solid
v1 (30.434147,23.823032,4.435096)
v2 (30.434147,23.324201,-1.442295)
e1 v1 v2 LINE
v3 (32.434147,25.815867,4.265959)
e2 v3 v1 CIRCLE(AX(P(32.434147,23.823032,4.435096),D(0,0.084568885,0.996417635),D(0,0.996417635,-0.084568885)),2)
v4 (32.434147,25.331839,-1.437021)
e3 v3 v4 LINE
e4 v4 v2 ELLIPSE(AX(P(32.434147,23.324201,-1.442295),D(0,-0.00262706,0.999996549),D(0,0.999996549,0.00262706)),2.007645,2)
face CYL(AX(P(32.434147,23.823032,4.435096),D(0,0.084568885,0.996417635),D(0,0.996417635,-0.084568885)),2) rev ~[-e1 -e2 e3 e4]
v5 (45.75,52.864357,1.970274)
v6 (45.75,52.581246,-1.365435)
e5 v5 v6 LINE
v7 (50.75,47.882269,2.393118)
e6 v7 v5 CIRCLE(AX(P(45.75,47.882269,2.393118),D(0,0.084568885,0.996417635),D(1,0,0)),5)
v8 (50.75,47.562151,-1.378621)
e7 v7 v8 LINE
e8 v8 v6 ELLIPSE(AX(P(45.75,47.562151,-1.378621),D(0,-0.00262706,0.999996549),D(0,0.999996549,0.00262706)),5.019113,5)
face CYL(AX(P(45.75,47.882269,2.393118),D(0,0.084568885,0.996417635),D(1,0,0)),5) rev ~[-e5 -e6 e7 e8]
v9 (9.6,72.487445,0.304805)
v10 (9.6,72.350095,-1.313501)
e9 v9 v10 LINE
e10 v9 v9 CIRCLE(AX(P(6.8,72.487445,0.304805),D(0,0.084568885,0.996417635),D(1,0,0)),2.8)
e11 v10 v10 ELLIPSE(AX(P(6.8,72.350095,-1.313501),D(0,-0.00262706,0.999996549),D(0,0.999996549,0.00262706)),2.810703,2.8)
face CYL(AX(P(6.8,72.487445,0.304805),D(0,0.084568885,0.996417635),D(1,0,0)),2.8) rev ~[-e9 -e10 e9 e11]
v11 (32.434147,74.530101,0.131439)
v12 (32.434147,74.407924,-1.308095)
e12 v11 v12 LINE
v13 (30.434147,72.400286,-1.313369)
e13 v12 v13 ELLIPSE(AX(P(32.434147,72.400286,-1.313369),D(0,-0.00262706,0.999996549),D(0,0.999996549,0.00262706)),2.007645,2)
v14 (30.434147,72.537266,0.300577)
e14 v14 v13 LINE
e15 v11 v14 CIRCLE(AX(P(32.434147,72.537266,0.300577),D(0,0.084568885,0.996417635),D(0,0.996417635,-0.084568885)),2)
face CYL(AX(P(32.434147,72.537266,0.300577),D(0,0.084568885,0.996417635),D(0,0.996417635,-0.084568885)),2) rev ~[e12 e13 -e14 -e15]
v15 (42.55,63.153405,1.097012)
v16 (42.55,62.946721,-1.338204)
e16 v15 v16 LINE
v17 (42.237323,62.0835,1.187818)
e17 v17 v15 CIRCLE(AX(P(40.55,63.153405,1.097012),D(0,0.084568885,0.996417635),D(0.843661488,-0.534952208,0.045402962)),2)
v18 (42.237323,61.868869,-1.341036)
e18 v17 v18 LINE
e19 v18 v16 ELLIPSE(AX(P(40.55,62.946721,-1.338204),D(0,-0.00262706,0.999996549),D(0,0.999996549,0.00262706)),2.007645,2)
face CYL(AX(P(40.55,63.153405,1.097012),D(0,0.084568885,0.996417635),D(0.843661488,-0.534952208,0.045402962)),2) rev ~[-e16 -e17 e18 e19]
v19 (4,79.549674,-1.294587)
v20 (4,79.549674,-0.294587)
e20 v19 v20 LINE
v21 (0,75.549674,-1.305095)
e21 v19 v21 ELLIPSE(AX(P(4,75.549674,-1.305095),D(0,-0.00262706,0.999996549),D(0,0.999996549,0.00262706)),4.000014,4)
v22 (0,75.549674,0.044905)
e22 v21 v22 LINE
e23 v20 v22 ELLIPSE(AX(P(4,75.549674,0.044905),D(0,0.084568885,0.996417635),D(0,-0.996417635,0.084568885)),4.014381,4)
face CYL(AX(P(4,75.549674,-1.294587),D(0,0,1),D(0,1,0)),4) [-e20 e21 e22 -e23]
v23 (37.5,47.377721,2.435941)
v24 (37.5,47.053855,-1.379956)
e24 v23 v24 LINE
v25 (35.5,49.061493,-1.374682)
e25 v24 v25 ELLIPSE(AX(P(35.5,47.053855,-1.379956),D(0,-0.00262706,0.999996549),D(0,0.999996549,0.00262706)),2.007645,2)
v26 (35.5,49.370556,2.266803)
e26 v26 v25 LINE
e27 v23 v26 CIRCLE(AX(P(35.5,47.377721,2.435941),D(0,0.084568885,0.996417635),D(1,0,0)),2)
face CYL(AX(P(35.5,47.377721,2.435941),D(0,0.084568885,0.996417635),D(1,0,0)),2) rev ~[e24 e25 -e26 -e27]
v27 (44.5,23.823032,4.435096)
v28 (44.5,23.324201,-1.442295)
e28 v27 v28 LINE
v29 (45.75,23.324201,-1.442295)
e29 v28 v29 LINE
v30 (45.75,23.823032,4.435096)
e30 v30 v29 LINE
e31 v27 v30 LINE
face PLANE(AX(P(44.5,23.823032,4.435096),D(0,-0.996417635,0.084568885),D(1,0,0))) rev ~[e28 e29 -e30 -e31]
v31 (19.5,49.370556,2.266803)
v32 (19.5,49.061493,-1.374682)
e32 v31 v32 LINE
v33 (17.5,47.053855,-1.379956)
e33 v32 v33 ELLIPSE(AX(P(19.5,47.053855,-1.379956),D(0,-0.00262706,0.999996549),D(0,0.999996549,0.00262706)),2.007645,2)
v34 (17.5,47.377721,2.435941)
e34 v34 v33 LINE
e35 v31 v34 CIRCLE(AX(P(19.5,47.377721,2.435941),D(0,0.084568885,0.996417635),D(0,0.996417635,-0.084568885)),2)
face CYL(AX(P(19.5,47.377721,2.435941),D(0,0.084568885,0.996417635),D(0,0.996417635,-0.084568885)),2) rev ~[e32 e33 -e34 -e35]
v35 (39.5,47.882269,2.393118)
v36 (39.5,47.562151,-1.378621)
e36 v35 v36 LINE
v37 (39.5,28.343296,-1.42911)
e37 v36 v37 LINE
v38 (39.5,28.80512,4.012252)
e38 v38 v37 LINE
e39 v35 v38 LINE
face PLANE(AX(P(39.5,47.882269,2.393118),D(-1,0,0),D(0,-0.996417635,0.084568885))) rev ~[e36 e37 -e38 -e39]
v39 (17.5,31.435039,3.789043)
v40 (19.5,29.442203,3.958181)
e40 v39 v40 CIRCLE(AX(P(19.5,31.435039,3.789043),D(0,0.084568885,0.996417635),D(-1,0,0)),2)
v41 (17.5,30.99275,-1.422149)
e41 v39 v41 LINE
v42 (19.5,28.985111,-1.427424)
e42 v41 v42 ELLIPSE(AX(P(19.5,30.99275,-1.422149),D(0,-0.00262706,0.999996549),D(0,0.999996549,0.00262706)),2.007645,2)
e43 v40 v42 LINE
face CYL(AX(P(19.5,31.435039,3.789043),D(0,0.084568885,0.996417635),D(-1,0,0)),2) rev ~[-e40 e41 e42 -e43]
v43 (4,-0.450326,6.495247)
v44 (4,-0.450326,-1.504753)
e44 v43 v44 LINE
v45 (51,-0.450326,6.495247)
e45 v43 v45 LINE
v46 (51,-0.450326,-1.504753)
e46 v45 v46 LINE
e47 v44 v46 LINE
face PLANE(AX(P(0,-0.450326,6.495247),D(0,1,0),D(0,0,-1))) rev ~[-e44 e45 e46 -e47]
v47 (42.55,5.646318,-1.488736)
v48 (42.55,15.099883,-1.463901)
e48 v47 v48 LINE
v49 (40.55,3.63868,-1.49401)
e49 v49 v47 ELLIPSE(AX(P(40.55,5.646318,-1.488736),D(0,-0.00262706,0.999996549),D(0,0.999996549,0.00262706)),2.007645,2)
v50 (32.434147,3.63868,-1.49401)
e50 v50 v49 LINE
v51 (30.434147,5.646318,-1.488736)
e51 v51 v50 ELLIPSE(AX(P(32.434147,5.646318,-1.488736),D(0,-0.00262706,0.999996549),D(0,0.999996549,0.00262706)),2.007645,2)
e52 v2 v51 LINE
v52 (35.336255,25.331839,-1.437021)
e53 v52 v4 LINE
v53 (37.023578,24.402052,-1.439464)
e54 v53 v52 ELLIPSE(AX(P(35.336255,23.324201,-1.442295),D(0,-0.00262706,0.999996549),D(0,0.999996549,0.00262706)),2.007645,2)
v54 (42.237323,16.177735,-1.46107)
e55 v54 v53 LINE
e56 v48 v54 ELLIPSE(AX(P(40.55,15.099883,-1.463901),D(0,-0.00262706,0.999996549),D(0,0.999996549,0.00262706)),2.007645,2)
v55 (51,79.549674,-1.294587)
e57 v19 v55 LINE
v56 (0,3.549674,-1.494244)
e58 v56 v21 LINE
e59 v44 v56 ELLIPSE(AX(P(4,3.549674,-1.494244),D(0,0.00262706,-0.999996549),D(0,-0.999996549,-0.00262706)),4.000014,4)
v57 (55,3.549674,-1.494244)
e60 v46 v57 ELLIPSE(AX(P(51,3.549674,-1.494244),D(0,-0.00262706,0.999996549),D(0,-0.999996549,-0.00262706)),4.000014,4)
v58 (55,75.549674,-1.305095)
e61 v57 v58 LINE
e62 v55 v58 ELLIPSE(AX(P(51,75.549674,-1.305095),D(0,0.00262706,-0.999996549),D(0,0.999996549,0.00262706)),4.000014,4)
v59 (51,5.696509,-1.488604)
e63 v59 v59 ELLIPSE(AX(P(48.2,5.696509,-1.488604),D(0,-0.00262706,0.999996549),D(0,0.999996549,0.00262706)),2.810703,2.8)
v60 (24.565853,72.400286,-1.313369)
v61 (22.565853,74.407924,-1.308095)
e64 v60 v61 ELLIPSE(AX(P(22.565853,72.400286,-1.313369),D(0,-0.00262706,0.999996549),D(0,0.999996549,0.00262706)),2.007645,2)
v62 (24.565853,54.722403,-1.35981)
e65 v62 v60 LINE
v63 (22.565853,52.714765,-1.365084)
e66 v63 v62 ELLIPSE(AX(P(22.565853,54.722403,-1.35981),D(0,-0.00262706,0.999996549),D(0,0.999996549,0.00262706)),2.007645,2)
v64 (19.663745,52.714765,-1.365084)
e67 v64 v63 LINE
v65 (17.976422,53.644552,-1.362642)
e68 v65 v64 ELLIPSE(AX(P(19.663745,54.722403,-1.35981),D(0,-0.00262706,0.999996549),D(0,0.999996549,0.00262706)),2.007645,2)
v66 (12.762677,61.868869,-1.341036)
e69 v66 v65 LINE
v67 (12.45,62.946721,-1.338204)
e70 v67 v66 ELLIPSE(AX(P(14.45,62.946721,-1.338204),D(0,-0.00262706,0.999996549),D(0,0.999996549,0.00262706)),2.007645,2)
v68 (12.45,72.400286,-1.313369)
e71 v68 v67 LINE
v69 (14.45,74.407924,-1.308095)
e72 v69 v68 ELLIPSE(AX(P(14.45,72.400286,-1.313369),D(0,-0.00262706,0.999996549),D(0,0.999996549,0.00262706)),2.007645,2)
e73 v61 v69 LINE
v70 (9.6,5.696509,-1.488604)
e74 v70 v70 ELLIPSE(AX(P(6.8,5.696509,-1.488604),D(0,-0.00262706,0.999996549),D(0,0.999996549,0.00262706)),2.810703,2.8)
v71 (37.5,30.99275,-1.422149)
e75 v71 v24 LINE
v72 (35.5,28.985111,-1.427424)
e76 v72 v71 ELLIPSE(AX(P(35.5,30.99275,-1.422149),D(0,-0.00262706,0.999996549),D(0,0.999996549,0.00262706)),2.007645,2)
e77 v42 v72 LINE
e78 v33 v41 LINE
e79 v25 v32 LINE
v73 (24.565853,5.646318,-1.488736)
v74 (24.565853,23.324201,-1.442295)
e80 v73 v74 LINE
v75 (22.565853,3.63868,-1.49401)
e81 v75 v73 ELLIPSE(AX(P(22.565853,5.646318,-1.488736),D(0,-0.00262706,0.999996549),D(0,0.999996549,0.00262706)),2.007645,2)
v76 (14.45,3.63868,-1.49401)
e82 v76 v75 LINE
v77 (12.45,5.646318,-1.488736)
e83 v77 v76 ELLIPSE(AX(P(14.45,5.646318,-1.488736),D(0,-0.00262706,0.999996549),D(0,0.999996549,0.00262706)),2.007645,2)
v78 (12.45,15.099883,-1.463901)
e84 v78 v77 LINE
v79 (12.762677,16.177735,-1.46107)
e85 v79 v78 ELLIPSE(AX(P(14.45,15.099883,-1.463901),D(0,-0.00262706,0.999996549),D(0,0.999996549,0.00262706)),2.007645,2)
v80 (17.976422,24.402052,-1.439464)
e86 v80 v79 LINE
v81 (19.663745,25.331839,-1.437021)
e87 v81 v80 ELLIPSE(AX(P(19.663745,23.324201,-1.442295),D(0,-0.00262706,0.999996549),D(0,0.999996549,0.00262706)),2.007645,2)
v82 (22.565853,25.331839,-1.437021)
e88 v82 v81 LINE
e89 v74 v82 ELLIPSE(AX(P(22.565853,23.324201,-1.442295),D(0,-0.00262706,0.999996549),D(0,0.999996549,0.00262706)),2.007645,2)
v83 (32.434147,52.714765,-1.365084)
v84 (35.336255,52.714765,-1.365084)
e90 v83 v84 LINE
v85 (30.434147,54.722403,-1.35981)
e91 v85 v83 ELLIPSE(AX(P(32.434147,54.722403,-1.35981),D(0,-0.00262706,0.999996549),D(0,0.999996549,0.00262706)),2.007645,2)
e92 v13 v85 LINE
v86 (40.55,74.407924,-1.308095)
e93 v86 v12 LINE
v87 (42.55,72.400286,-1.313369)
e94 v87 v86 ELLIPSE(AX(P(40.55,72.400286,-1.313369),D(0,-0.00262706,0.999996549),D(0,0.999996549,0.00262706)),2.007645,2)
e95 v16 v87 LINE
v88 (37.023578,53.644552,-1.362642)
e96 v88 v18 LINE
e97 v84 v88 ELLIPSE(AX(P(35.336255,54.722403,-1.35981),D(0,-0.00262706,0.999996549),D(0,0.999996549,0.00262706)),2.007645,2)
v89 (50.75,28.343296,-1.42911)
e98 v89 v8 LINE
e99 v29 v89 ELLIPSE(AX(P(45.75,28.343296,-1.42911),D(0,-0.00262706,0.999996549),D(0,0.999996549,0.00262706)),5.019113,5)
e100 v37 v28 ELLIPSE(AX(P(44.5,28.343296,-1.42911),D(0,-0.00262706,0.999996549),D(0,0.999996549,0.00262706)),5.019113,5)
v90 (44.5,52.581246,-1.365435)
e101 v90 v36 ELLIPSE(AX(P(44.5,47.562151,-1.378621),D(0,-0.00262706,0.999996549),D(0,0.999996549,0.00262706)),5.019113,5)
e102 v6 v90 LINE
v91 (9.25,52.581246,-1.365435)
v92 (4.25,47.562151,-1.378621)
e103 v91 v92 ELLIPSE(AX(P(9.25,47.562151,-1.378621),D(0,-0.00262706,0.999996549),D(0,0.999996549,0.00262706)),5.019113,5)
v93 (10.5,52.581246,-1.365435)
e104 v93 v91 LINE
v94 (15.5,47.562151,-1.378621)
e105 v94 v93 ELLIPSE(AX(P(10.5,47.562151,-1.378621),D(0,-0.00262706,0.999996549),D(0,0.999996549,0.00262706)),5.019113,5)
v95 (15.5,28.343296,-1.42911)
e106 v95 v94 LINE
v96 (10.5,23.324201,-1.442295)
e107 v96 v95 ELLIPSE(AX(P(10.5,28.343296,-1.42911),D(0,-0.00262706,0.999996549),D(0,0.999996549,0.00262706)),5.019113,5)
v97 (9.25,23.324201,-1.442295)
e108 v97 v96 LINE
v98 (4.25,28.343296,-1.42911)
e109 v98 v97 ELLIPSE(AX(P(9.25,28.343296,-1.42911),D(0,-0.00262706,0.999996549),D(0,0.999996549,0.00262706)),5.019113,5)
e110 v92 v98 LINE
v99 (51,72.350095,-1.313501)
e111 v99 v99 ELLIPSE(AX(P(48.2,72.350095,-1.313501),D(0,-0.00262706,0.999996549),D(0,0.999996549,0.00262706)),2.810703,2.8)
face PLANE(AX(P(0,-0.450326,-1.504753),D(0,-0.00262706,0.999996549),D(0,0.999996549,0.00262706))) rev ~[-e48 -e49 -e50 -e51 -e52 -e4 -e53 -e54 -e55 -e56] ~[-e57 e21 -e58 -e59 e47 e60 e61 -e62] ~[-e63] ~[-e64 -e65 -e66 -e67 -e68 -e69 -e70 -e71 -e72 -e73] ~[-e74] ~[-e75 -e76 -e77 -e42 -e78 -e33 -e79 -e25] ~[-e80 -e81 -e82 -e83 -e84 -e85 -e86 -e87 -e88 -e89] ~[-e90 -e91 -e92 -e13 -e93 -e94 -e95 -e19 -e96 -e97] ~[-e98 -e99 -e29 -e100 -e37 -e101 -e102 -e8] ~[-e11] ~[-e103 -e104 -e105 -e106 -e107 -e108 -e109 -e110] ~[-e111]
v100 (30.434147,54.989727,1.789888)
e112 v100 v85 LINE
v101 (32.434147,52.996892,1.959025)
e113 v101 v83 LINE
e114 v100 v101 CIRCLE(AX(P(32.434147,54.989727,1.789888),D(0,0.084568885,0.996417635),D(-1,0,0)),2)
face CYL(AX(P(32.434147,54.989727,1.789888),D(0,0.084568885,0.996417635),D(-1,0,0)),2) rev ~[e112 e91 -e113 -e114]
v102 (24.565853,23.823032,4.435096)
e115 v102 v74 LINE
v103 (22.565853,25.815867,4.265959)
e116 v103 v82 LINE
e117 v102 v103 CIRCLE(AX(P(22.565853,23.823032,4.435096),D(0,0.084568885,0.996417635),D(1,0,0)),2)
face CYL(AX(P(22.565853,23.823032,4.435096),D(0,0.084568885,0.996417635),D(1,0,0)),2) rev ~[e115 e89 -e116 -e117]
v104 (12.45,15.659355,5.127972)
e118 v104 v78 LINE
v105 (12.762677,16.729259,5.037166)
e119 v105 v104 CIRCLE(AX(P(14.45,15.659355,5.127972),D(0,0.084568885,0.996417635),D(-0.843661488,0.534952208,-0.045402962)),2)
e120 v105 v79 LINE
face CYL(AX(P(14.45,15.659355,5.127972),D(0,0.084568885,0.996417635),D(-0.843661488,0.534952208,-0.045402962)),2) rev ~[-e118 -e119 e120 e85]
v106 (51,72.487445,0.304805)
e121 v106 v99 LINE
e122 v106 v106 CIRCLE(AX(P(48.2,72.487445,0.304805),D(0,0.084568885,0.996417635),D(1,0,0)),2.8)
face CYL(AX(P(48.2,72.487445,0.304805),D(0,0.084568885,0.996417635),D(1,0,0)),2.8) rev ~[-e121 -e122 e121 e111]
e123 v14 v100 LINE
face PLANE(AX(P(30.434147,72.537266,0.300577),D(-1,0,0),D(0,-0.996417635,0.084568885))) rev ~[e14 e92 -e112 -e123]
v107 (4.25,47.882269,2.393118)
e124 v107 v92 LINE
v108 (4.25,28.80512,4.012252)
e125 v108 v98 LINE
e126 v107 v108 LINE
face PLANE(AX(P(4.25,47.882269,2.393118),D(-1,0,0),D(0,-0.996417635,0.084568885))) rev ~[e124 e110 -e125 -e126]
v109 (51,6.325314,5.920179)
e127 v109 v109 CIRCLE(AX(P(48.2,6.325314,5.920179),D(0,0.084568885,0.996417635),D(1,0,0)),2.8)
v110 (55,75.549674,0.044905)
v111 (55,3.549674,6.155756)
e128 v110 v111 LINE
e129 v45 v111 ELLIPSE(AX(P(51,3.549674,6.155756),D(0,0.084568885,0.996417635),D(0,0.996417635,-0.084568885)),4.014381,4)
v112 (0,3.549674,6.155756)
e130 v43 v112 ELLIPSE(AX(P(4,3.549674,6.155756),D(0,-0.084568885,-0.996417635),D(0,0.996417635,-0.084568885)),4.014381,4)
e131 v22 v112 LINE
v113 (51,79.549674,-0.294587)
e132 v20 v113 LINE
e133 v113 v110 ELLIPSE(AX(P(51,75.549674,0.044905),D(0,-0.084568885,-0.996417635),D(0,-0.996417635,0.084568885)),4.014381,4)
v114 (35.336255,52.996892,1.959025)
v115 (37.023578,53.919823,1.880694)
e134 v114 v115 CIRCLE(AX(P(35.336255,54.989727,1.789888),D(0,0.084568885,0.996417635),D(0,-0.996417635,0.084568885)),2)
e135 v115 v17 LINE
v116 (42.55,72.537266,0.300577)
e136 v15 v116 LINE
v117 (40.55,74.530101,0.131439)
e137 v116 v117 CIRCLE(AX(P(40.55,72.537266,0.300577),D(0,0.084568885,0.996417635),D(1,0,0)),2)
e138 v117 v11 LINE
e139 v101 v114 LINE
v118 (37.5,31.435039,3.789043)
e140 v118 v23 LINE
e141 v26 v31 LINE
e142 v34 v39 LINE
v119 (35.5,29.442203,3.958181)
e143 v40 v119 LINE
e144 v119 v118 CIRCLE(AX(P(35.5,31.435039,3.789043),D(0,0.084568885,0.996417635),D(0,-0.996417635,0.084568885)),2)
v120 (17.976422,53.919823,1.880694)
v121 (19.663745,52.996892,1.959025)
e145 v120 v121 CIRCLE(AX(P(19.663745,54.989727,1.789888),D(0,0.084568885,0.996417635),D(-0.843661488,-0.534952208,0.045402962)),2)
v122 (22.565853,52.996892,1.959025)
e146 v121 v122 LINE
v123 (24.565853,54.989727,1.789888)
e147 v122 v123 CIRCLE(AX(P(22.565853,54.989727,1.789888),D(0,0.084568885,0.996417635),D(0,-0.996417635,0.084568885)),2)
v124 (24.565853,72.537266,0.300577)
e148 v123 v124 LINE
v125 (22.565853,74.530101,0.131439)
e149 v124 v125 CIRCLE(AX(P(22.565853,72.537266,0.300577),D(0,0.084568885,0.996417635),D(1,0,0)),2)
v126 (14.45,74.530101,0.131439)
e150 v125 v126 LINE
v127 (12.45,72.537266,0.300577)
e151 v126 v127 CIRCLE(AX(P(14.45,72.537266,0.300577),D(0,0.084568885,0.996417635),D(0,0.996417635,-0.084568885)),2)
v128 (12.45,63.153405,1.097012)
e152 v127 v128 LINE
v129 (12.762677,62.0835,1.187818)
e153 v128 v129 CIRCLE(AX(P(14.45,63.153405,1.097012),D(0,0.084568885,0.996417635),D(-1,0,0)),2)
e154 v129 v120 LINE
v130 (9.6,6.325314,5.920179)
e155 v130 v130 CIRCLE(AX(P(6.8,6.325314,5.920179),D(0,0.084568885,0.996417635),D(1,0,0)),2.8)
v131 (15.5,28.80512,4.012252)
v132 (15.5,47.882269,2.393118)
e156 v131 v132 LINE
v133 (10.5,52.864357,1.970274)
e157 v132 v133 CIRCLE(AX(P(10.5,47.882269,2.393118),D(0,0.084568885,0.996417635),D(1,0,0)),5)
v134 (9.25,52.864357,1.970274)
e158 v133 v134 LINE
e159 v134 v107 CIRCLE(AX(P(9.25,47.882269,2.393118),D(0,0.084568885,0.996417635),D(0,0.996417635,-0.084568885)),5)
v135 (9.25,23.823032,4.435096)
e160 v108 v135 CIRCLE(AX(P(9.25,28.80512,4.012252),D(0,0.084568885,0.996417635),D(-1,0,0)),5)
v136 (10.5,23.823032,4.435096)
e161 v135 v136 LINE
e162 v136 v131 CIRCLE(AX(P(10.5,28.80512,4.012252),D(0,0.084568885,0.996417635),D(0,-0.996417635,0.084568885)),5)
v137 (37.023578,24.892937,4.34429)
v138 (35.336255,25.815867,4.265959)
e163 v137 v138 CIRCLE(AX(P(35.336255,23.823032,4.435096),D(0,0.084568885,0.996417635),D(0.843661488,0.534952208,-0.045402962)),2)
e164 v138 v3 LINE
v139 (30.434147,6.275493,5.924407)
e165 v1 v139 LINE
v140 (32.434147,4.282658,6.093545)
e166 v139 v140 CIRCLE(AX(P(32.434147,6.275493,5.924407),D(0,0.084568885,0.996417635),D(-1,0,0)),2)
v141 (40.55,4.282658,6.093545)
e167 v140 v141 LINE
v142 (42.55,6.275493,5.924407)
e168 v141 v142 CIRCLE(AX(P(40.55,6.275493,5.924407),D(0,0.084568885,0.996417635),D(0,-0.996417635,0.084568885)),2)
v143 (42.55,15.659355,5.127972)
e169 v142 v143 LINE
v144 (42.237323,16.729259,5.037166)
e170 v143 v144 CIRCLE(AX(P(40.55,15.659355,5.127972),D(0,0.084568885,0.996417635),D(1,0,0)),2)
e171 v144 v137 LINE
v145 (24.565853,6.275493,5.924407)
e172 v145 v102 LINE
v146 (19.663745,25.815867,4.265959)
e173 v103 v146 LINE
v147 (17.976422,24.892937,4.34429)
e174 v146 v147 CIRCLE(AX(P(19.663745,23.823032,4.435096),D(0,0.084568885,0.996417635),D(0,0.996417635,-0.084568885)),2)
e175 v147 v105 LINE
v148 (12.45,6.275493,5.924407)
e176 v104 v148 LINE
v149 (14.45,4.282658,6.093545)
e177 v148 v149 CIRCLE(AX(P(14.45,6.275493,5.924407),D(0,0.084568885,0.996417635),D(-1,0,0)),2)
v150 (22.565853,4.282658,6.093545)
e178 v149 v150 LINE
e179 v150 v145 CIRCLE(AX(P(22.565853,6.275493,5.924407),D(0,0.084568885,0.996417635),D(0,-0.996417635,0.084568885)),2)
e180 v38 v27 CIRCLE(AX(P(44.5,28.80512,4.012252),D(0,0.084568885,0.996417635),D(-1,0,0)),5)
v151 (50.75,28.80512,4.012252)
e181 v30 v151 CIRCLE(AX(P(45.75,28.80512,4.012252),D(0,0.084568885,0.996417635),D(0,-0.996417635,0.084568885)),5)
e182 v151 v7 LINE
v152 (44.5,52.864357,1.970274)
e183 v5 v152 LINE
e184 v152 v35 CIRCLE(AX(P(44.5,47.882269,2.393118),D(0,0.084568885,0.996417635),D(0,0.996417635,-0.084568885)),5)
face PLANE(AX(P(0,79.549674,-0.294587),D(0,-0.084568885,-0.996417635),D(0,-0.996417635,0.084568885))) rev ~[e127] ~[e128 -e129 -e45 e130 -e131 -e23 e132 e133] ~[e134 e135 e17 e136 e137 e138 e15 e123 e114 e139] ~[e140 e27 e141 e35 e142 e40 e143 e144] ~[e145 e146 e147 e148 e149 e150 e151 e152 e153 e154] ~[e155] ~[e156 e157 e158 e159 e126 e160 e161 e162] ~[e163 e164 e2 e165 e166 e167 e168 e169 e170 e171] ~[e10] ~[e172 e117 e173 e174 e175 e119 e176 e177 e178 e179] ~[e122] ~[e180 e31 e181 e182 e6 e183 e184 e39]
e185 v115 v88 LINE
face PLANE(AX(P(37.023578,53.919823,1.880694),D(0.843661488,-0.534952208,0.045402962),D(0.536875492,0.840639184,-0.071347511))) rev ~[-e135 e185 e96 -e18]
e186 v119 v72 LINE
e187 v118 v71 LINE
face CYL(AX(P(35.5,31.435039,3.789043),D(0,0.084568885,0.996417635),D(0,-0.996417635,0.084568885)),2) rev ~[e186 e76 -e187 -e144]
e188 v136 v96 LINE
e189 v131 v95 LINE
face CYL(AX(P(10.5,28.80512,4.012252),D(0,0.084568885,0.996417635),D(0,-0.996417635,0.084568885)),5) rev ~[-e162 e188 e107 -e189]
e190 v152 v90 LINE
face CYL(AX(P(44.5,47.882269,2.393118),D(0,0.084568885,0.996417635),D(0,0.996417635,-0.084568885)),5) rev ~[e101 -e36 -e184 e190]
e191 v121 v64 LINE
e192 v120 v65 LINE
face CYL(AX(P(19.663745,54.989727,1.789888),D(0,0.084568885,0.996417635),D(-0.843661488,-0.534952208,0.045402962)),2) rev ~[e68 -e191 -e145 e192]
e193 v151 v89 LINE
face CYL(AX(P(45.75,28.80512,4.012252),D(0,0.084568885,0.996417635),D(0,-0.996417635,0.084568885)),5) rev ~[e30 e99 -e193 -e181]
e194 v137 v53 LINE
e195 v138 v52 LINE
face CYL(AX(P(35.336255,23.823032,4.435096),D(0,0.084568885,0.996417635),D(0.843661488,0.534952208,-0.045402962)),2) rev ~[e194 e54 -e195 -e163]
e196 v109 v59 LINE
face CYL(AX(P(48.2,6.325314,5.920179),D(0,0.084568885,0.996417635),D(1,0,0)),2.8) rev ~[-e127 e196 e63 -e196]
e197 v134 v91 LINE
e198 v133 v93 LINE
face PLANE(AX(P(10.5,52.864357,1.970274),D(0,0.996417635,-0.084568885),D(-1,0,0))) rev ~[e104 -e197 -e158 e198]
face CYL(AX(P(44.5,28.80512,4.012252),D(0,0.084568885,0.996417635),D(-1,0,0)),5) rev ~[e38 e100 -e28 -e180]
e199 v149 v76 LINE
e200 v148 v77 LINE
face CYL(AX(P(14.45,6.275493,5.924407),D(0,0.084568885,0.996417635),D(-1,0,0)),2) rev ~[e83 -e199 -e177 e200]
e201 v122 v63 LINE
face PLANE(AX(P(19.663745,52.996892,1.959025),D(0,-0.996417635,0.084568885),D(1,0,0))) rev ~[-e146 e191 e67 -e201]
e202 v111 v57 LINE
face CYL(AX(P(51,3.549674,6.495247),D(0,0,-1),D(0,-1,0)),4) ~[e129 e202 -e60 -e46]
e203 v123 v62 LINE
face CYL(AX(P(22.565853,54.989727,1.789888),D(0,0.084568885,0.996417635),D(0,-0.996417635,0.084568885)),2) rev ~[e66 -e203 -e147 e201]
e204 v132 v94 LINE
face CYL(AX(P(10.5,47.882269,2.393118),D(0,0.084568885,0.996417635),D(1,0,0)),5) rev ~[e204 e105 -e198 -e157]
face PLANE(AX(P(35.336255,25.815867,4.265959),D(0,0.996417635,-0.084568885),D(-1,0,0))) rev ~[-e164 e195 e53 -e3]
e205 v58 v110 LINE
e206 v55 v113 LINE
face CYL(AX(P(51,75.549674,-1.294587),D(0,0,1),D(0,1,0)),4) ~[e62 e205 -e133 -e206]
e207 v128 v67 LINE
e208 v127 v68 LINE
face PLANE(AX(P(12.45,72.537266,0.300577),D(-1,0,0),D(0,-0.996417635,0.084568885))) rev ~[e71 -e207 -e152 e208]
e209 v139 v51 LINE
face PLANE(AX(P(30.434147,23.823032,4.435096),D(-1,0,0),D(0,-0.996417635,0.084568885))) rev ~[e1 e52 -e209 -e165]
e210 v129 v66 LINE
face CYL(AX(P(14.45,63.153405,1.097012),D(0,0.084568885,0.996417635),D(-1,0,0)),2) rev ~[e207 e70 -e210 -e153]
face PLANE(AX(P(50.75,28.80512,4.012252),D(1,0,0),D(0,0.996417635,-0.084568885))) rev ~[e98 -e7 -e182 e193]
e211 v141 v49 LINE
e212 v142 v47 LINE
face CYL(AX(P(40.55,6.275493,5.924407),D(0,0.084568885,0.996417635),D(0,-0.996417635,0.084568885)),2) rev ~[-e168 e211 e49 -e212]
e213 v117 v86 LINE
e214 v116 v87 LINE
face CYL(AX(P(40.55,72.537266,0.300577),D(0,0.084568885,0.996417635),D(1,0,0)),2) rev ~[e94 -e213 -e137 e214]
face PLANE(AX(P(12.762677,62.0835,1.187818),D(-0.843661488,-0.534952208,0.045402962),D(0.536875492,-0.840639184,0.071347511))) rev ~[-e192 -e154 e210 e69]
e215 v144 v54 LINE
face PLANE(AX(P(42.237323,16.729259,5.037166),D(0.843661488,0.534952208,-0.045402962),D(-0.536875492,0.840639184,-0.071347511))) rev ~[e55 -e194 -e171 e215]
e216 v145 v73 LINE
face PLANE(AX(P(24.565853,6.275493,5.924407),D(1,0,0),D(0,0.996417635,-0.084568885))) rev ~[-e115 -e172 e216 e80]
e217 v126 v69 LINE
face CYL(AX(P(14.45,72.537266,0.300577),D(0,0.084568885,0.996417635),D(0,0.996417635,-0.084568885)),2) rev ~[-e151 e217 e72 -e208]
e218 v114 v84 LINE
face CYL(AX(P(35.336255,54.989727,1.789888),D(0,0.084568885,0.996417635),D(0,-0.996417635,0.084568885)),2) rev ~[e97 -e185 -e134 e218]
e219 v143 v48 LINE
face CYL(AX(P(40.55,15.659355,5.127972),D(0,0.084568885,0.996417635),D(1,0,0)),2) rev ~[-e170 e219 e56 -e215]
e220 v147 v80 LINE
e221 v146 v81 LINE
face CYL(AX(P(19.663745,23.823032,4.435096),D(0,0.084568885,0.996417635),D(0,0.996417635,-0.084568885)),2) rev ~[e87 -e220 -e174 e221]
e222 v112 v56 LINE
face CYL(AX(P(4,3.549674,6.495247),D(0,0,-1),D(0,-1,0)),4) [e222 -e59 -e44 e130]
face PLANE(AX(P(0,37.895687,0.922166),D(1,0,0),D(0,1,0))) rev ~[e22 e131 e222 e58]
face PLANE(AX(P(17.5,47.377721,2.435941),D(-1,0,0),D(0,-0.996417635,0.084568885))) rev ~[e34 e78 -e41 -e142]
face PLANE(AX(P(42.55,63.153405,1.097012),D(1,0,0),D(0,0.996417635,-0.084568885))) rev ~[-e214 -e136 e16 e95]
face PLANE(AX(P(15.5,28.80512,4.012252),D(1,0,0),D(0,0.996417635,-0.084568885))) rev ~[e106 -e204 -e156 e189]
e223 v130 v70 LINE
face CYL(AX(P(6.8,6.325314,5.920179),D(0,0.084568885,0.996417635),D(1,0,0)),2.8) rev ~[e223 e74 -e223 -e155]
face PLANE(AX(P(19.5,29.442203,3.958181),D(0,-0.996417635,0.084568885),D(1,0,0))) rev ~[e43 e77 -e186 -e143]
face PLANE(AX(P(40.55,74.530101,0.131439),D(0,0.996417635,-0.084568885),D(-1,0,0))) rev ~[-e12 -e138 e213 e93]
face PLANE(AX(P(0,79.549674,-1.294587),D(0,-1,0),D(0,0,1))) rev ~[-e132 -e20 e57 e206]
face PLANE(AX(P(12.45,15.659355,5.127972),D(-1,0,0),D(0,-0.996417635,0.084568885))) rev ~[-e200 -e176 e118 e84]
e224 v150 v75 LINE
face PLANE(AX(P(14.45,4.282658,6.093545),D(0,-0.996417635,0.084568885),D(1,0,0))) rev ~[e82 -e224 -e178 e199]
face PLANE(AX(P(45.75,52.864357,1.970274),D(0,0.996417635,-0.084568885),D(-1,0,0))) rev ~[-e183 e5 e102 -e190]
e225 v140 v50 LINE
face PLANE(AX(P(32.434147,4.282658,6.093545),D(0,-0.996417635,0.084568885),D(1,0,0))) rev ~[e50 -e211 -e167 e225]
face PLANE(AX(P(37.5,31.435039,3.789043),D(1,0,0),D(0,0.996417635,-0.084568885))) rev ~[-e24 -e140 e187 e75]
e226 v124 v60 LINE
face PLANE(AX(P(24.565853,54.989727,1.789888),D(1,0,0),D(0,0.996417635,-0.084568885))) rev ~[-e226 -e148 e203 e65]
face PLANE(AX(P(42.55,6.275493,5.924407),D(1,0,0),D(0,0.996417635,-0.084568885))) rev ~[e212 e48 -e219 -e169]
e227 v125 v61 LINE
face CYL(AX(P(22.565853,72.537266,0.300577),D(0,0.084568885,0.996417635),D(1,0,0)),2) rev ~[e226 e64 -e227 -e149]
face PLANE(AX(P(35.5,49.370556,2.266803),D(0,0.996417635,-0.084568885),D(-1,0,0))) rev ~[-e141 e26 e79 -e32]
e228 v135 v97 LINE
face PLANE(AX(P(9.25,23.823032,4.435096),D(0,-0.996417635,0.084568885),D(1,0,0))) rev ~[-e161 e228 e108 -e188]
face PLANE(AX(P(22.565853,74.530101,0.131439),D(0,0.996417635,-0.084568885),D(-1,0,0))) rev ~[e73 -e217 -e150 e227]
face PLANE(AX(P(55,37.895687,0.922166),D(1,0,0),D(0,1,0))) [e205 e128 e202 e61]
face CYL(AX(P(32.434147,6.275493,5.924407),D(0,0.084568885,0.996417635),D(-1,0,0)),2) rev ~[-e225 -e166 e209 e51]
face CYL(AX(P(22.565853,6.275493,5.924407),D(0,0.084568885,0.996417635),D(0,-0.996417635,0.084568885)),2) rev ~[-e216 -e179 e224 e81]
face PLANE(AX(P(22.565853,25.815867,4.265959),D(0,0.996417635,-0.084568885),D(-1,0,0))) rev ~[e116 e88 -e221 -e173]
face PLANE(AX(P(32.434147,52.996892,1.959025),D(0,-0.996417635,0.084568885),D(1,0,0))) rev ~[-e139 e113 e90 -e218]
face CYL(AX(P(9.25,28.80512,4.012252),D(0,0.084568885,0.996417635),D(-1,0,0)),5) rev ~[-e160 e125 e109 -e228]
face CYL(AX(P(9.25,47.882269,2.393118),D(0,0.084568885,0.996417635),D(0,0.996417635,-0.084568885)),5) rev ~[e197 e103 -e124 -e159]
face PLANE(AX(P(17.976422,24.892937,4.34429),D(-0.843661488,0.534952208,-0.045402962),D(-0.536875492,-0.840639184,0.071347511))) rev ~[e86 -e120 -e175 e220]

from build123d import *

# Parameters (mm, degrees)
F1_DEPTH = 55
F2_R     = 4
F3_R     = 2.8
F4_DEPTH = 25


with BuildPart() as f1:
    # F0 (on Right) → F1 (new body)
    with BuildSketch(Plane.YZ):
        Polygon((-0.4503256133, 6.495247405), (-0.4503256133, -1.504752595), (79.5496743867, -1.2945870653), (79.5496743867, -0.2945870653), align=None)
    extrude(amount=F1_DEPTH)

    # F2
    f2_edges = [f1.edges().sort_by_distance(p)[0] for p in [
        (0, -0.450326, 2.495247),
        (55, -0.450326, 2.495247),
        (0, 79.549674, -0.794587),
        (55, 79.549674, -0.794587),
    ]]
    fillet(f2_edges, radius=F2_R)

    # F3 (on face) → F4 (cut)
    with BuildSketch(Plane(origin=(0, 0.5441073712, 6.4108469631), x_dir=(1, 0, 0), z_dir=(0, 0.0845688851, 0.9964176352))):
        with BuildLine():
            Line((10.5, 52.5083540007), (9.25, 52.5083540007))
            ThreePointArc((9.25, 52.5083540007), (5.7144660941, 51.0438879067), (4.25, 47.5083540007))
            Line((4.25, 47.5083540007), (4.25, 28.3626182626))
            ThreePointArc((4.25, 28.3626182626), (5.7144660941, 24.8270843567), (9.25, 23.3626182626))
            Line((9.25, 23.3626182626), (10.5, 23.3626182626))
            ThreePointArc((10.5, 23.3626182626), (14.0355339059, 24.8270843567), (15.5, 28.3626182626))
            Line((15.5, 28.3626182626), (15.5, 47.5083540007))
            ThreePointArc((15.5, 47.5083540007), (14.0355339059, 51.0438879067), (10.5, 52.5083540007))
        make_face()
        with BuildLine():
            Line((19.5, 29.0019917861), (35.5, 29.0019917861))
            ThreePointArc((35.5, 29.0019917861), (36.9142135624, 29.5877782237), (37.5, 31.0019917861))
            Line((37.5, 31.0019917861), (37.5, 47.0019917861))
            ThreePointArc((37.5, 47.0019917861), (36.9142135624, 48.4162053484), (35.5, 49.0019917861))
            Line((35.5, 49.0019917861), (19.5, 49.0019917861))
            ThreePointArc((19.5, 49.0019917861), (18.0857864376, 48.4162053484), (17.5, 47.0019917861))
            Line((17.5, 47.0019917861), (17.5, 31.0019917861))
            ThreePointArc((17.5, 31.0019917861), (18.0857864376, 29.5877782237), (19.5, 29.0019917861))
        make_face()
        with BuildLine():
            Line((50.75, 28.3626182626), (50.75, 47.5083540007))
            ThreePointArc((50.75, 47.5083540007), (49.2855339059, 51.0438879067), (45.75, 52.5083540007))
            Line((45.75, 52.5083540007), (44.5, 52.5083540007))
            ThreePointArc((44.5, 52.5083540007), (40.9644660941, 51.0438879067), (39.5, 47.5083540007))
            Line((39.5, 47.5083540007), (39.5, 28.3626182626))
            ThreePointArc((39.5, 28.3626182626), (40.9644660941, 24.8270843567), (44.5, 23.3626182626))
            Line((44.5, 23.3626182626), (45.75, 23.3626182626))
            ThreePointArc((45.75, 23.3626182626), (49.2855339059, 24.8270843567), (50.75, 28.3626182626))
        make_face()
        with BuildLine():
            ThreePointArc((22.5658532124, 3.7519917861), (23.9800667747, 4.3377782237), (24.5658532124, 5.7519917861))
            Line((24.5658532124, 5.7519917861), (24.5658532124, 23.3626182626))
            ThreePointArc((24.5658532124, 23.3626182626), (23.9800667747, 24.776831825), (22.5658532124, 25.3626182626))
            Line((22.5658532124, 25.3626182626), (19.6637449961, 25.3626182626))
            ThreePointArc((19.6637449961, 25.3626182626), (18.7013266797, 25.1158298826), (17.9764220206, 24.436369247))
            Line((17.9764220206, 24.436369247), (12.7626770245, 16.243341396))
            ThreePointArc((12.7626770245, 16.243341396), (12.5297596568, 15.7287657192), (12.45, 15.1695904116))
            Line((12.45, 15.1695904116), (12.45, 5.7519917861))
            ThreePointArc((12.45, 5.7519917861), (13.0357864376, 4.3377782237), (14.45, 3.7519917861))
            Line((14.45, 3.7519917861), (22.5658532124, 3.7519917861))
        make_face()
        with BuildLine():
            Line((30.4341467876, 23.3626182626), (30.4341467876, 5.7519917861))
            ThreePointArc((30.4341467876, 5.7519917861), (31.0199332253, 4.3377782237), (32.4341467876, 3.7519917861))
            Line((32.4341467876, 3.7519917861), (40.55, 3.7519917861))
            ThreePointArc((40.55, 3.7519917861), (41.9642135624, 4.3377782237), (42.55, 5.7519917861))
            Line((42.55, 5.7519917861), (42.55, 15.1695904116))
            ThreePointArc((42.55, 15.1695904116), (42.4702403432, 15.7287657192), (42.2373229755, 16.243341396))
            Line((42.2373229755, 16.243341396), (37.0235779794, 24.436369247))
            ThreePointArc((37.0235779794, 24.436369247), (36.2986733203, 25.1158298826), (35.3362550039, 25.3626182626))
            Line((35.3362550039, 25.3626182626), (32.4341467876, 25.3626182626))
            ThreePointArc((32.4341467876, 25.3626182626), (31.0199332253, 24.776831825), (30.4341467876, 23.3626182626))
        make_face()
        with BuildLine():
            ThreePointArc((32.4341467876, 74.2519917861), (31.0199332253, 73.6662053484), (30.4341467876, 72.2519917861))
            Line((30.4341467876, 72.2519917861), (30.4341467876, 54.6413653095))
            ThreePointArc((30.4341467876, 54.6413653095), (31.0199332253, 53.2271517471), (32.4341467876, 52.6413653095))
            Line((32.4341467876, 52.6413653095), (35.3362550039, 52.6413653095))
            ThreePointArc((35.3362550039, 52.6413653095), (36.2986733203, 52.8881536895), (37.0235779794, 53.5676143251))
            Line((37.0235779794, 53.5676143251), (42.2373229755, 61.7606421761))
            ThreePointArc((42.2373229755, 61.7606421761), (42.4702403432, 62.2752178529), (42.55, 62.8343931605))
            Line((42.55, 62.8343931605), (42.55, 72.2519917861))
            ThreePointArc((42.55, 72.2519917861), (41.9642135624, 73.6662053484), (40.55, 74.2519917861))
            Line((40.55, 74.2519917861), (32.4341467876, 74.2519917861))
        make_face()
        with BuildLine():
            Line((22.5658532124, 74.2519917861), (14.45, 74.2519917861))
            ThreePointArc((14.45, 74.2519917861), (13.0357864376, 73.6662053484), (12.45, 72.2519917861))
            Line((12.45, 72.2519917861), (12.45, 62.8343931605))
            ThreePointArc((12.45, 62.8343931605), (12.5297596568, 62.2752178529), (12.7626770245, 61.7606421761))
            Line((12.7626770245, 61.7606421761), (17.9764220206, 53.5676143251))
            ThreePointArc((17.9764220206, 53.5676143251), (18.7013266797, 52.8881536895), (19.6637449961, 52.6413653095))
            Line((19.6637449961, 52.6413653095), (22.5658532124, 52.6413653095))
            ThreePointArc((22.5658532124, 52.6413653095), (23.9800667747, 53.2271517471), (24.5658532124, 54.6413653095))
            Line((24.5658532124, 54.6413653095), (24.5658532124, 72.2519917861))
            ThreePointArc((24.5658532124, 72.2519917861), (23.9800667747, 73.6662053484), (22.5658532124, 74.2519917861))
        make_face()
        with Locations((48.2, 72.2019917861)):
            Circle(F3_R)
        with Locations((48.2, 5.8019917861)):
            Circle(F3_R)
        with Locations((6.8, 5.8019917861)):
            Circle(F3_R)
        with Locations((6.8, 72.2019917861)):
            Circle(F3_R)
    extrude(amount=-F4_DEPTH, mode=Mode.SUBTRACT)


solid = f1.part
